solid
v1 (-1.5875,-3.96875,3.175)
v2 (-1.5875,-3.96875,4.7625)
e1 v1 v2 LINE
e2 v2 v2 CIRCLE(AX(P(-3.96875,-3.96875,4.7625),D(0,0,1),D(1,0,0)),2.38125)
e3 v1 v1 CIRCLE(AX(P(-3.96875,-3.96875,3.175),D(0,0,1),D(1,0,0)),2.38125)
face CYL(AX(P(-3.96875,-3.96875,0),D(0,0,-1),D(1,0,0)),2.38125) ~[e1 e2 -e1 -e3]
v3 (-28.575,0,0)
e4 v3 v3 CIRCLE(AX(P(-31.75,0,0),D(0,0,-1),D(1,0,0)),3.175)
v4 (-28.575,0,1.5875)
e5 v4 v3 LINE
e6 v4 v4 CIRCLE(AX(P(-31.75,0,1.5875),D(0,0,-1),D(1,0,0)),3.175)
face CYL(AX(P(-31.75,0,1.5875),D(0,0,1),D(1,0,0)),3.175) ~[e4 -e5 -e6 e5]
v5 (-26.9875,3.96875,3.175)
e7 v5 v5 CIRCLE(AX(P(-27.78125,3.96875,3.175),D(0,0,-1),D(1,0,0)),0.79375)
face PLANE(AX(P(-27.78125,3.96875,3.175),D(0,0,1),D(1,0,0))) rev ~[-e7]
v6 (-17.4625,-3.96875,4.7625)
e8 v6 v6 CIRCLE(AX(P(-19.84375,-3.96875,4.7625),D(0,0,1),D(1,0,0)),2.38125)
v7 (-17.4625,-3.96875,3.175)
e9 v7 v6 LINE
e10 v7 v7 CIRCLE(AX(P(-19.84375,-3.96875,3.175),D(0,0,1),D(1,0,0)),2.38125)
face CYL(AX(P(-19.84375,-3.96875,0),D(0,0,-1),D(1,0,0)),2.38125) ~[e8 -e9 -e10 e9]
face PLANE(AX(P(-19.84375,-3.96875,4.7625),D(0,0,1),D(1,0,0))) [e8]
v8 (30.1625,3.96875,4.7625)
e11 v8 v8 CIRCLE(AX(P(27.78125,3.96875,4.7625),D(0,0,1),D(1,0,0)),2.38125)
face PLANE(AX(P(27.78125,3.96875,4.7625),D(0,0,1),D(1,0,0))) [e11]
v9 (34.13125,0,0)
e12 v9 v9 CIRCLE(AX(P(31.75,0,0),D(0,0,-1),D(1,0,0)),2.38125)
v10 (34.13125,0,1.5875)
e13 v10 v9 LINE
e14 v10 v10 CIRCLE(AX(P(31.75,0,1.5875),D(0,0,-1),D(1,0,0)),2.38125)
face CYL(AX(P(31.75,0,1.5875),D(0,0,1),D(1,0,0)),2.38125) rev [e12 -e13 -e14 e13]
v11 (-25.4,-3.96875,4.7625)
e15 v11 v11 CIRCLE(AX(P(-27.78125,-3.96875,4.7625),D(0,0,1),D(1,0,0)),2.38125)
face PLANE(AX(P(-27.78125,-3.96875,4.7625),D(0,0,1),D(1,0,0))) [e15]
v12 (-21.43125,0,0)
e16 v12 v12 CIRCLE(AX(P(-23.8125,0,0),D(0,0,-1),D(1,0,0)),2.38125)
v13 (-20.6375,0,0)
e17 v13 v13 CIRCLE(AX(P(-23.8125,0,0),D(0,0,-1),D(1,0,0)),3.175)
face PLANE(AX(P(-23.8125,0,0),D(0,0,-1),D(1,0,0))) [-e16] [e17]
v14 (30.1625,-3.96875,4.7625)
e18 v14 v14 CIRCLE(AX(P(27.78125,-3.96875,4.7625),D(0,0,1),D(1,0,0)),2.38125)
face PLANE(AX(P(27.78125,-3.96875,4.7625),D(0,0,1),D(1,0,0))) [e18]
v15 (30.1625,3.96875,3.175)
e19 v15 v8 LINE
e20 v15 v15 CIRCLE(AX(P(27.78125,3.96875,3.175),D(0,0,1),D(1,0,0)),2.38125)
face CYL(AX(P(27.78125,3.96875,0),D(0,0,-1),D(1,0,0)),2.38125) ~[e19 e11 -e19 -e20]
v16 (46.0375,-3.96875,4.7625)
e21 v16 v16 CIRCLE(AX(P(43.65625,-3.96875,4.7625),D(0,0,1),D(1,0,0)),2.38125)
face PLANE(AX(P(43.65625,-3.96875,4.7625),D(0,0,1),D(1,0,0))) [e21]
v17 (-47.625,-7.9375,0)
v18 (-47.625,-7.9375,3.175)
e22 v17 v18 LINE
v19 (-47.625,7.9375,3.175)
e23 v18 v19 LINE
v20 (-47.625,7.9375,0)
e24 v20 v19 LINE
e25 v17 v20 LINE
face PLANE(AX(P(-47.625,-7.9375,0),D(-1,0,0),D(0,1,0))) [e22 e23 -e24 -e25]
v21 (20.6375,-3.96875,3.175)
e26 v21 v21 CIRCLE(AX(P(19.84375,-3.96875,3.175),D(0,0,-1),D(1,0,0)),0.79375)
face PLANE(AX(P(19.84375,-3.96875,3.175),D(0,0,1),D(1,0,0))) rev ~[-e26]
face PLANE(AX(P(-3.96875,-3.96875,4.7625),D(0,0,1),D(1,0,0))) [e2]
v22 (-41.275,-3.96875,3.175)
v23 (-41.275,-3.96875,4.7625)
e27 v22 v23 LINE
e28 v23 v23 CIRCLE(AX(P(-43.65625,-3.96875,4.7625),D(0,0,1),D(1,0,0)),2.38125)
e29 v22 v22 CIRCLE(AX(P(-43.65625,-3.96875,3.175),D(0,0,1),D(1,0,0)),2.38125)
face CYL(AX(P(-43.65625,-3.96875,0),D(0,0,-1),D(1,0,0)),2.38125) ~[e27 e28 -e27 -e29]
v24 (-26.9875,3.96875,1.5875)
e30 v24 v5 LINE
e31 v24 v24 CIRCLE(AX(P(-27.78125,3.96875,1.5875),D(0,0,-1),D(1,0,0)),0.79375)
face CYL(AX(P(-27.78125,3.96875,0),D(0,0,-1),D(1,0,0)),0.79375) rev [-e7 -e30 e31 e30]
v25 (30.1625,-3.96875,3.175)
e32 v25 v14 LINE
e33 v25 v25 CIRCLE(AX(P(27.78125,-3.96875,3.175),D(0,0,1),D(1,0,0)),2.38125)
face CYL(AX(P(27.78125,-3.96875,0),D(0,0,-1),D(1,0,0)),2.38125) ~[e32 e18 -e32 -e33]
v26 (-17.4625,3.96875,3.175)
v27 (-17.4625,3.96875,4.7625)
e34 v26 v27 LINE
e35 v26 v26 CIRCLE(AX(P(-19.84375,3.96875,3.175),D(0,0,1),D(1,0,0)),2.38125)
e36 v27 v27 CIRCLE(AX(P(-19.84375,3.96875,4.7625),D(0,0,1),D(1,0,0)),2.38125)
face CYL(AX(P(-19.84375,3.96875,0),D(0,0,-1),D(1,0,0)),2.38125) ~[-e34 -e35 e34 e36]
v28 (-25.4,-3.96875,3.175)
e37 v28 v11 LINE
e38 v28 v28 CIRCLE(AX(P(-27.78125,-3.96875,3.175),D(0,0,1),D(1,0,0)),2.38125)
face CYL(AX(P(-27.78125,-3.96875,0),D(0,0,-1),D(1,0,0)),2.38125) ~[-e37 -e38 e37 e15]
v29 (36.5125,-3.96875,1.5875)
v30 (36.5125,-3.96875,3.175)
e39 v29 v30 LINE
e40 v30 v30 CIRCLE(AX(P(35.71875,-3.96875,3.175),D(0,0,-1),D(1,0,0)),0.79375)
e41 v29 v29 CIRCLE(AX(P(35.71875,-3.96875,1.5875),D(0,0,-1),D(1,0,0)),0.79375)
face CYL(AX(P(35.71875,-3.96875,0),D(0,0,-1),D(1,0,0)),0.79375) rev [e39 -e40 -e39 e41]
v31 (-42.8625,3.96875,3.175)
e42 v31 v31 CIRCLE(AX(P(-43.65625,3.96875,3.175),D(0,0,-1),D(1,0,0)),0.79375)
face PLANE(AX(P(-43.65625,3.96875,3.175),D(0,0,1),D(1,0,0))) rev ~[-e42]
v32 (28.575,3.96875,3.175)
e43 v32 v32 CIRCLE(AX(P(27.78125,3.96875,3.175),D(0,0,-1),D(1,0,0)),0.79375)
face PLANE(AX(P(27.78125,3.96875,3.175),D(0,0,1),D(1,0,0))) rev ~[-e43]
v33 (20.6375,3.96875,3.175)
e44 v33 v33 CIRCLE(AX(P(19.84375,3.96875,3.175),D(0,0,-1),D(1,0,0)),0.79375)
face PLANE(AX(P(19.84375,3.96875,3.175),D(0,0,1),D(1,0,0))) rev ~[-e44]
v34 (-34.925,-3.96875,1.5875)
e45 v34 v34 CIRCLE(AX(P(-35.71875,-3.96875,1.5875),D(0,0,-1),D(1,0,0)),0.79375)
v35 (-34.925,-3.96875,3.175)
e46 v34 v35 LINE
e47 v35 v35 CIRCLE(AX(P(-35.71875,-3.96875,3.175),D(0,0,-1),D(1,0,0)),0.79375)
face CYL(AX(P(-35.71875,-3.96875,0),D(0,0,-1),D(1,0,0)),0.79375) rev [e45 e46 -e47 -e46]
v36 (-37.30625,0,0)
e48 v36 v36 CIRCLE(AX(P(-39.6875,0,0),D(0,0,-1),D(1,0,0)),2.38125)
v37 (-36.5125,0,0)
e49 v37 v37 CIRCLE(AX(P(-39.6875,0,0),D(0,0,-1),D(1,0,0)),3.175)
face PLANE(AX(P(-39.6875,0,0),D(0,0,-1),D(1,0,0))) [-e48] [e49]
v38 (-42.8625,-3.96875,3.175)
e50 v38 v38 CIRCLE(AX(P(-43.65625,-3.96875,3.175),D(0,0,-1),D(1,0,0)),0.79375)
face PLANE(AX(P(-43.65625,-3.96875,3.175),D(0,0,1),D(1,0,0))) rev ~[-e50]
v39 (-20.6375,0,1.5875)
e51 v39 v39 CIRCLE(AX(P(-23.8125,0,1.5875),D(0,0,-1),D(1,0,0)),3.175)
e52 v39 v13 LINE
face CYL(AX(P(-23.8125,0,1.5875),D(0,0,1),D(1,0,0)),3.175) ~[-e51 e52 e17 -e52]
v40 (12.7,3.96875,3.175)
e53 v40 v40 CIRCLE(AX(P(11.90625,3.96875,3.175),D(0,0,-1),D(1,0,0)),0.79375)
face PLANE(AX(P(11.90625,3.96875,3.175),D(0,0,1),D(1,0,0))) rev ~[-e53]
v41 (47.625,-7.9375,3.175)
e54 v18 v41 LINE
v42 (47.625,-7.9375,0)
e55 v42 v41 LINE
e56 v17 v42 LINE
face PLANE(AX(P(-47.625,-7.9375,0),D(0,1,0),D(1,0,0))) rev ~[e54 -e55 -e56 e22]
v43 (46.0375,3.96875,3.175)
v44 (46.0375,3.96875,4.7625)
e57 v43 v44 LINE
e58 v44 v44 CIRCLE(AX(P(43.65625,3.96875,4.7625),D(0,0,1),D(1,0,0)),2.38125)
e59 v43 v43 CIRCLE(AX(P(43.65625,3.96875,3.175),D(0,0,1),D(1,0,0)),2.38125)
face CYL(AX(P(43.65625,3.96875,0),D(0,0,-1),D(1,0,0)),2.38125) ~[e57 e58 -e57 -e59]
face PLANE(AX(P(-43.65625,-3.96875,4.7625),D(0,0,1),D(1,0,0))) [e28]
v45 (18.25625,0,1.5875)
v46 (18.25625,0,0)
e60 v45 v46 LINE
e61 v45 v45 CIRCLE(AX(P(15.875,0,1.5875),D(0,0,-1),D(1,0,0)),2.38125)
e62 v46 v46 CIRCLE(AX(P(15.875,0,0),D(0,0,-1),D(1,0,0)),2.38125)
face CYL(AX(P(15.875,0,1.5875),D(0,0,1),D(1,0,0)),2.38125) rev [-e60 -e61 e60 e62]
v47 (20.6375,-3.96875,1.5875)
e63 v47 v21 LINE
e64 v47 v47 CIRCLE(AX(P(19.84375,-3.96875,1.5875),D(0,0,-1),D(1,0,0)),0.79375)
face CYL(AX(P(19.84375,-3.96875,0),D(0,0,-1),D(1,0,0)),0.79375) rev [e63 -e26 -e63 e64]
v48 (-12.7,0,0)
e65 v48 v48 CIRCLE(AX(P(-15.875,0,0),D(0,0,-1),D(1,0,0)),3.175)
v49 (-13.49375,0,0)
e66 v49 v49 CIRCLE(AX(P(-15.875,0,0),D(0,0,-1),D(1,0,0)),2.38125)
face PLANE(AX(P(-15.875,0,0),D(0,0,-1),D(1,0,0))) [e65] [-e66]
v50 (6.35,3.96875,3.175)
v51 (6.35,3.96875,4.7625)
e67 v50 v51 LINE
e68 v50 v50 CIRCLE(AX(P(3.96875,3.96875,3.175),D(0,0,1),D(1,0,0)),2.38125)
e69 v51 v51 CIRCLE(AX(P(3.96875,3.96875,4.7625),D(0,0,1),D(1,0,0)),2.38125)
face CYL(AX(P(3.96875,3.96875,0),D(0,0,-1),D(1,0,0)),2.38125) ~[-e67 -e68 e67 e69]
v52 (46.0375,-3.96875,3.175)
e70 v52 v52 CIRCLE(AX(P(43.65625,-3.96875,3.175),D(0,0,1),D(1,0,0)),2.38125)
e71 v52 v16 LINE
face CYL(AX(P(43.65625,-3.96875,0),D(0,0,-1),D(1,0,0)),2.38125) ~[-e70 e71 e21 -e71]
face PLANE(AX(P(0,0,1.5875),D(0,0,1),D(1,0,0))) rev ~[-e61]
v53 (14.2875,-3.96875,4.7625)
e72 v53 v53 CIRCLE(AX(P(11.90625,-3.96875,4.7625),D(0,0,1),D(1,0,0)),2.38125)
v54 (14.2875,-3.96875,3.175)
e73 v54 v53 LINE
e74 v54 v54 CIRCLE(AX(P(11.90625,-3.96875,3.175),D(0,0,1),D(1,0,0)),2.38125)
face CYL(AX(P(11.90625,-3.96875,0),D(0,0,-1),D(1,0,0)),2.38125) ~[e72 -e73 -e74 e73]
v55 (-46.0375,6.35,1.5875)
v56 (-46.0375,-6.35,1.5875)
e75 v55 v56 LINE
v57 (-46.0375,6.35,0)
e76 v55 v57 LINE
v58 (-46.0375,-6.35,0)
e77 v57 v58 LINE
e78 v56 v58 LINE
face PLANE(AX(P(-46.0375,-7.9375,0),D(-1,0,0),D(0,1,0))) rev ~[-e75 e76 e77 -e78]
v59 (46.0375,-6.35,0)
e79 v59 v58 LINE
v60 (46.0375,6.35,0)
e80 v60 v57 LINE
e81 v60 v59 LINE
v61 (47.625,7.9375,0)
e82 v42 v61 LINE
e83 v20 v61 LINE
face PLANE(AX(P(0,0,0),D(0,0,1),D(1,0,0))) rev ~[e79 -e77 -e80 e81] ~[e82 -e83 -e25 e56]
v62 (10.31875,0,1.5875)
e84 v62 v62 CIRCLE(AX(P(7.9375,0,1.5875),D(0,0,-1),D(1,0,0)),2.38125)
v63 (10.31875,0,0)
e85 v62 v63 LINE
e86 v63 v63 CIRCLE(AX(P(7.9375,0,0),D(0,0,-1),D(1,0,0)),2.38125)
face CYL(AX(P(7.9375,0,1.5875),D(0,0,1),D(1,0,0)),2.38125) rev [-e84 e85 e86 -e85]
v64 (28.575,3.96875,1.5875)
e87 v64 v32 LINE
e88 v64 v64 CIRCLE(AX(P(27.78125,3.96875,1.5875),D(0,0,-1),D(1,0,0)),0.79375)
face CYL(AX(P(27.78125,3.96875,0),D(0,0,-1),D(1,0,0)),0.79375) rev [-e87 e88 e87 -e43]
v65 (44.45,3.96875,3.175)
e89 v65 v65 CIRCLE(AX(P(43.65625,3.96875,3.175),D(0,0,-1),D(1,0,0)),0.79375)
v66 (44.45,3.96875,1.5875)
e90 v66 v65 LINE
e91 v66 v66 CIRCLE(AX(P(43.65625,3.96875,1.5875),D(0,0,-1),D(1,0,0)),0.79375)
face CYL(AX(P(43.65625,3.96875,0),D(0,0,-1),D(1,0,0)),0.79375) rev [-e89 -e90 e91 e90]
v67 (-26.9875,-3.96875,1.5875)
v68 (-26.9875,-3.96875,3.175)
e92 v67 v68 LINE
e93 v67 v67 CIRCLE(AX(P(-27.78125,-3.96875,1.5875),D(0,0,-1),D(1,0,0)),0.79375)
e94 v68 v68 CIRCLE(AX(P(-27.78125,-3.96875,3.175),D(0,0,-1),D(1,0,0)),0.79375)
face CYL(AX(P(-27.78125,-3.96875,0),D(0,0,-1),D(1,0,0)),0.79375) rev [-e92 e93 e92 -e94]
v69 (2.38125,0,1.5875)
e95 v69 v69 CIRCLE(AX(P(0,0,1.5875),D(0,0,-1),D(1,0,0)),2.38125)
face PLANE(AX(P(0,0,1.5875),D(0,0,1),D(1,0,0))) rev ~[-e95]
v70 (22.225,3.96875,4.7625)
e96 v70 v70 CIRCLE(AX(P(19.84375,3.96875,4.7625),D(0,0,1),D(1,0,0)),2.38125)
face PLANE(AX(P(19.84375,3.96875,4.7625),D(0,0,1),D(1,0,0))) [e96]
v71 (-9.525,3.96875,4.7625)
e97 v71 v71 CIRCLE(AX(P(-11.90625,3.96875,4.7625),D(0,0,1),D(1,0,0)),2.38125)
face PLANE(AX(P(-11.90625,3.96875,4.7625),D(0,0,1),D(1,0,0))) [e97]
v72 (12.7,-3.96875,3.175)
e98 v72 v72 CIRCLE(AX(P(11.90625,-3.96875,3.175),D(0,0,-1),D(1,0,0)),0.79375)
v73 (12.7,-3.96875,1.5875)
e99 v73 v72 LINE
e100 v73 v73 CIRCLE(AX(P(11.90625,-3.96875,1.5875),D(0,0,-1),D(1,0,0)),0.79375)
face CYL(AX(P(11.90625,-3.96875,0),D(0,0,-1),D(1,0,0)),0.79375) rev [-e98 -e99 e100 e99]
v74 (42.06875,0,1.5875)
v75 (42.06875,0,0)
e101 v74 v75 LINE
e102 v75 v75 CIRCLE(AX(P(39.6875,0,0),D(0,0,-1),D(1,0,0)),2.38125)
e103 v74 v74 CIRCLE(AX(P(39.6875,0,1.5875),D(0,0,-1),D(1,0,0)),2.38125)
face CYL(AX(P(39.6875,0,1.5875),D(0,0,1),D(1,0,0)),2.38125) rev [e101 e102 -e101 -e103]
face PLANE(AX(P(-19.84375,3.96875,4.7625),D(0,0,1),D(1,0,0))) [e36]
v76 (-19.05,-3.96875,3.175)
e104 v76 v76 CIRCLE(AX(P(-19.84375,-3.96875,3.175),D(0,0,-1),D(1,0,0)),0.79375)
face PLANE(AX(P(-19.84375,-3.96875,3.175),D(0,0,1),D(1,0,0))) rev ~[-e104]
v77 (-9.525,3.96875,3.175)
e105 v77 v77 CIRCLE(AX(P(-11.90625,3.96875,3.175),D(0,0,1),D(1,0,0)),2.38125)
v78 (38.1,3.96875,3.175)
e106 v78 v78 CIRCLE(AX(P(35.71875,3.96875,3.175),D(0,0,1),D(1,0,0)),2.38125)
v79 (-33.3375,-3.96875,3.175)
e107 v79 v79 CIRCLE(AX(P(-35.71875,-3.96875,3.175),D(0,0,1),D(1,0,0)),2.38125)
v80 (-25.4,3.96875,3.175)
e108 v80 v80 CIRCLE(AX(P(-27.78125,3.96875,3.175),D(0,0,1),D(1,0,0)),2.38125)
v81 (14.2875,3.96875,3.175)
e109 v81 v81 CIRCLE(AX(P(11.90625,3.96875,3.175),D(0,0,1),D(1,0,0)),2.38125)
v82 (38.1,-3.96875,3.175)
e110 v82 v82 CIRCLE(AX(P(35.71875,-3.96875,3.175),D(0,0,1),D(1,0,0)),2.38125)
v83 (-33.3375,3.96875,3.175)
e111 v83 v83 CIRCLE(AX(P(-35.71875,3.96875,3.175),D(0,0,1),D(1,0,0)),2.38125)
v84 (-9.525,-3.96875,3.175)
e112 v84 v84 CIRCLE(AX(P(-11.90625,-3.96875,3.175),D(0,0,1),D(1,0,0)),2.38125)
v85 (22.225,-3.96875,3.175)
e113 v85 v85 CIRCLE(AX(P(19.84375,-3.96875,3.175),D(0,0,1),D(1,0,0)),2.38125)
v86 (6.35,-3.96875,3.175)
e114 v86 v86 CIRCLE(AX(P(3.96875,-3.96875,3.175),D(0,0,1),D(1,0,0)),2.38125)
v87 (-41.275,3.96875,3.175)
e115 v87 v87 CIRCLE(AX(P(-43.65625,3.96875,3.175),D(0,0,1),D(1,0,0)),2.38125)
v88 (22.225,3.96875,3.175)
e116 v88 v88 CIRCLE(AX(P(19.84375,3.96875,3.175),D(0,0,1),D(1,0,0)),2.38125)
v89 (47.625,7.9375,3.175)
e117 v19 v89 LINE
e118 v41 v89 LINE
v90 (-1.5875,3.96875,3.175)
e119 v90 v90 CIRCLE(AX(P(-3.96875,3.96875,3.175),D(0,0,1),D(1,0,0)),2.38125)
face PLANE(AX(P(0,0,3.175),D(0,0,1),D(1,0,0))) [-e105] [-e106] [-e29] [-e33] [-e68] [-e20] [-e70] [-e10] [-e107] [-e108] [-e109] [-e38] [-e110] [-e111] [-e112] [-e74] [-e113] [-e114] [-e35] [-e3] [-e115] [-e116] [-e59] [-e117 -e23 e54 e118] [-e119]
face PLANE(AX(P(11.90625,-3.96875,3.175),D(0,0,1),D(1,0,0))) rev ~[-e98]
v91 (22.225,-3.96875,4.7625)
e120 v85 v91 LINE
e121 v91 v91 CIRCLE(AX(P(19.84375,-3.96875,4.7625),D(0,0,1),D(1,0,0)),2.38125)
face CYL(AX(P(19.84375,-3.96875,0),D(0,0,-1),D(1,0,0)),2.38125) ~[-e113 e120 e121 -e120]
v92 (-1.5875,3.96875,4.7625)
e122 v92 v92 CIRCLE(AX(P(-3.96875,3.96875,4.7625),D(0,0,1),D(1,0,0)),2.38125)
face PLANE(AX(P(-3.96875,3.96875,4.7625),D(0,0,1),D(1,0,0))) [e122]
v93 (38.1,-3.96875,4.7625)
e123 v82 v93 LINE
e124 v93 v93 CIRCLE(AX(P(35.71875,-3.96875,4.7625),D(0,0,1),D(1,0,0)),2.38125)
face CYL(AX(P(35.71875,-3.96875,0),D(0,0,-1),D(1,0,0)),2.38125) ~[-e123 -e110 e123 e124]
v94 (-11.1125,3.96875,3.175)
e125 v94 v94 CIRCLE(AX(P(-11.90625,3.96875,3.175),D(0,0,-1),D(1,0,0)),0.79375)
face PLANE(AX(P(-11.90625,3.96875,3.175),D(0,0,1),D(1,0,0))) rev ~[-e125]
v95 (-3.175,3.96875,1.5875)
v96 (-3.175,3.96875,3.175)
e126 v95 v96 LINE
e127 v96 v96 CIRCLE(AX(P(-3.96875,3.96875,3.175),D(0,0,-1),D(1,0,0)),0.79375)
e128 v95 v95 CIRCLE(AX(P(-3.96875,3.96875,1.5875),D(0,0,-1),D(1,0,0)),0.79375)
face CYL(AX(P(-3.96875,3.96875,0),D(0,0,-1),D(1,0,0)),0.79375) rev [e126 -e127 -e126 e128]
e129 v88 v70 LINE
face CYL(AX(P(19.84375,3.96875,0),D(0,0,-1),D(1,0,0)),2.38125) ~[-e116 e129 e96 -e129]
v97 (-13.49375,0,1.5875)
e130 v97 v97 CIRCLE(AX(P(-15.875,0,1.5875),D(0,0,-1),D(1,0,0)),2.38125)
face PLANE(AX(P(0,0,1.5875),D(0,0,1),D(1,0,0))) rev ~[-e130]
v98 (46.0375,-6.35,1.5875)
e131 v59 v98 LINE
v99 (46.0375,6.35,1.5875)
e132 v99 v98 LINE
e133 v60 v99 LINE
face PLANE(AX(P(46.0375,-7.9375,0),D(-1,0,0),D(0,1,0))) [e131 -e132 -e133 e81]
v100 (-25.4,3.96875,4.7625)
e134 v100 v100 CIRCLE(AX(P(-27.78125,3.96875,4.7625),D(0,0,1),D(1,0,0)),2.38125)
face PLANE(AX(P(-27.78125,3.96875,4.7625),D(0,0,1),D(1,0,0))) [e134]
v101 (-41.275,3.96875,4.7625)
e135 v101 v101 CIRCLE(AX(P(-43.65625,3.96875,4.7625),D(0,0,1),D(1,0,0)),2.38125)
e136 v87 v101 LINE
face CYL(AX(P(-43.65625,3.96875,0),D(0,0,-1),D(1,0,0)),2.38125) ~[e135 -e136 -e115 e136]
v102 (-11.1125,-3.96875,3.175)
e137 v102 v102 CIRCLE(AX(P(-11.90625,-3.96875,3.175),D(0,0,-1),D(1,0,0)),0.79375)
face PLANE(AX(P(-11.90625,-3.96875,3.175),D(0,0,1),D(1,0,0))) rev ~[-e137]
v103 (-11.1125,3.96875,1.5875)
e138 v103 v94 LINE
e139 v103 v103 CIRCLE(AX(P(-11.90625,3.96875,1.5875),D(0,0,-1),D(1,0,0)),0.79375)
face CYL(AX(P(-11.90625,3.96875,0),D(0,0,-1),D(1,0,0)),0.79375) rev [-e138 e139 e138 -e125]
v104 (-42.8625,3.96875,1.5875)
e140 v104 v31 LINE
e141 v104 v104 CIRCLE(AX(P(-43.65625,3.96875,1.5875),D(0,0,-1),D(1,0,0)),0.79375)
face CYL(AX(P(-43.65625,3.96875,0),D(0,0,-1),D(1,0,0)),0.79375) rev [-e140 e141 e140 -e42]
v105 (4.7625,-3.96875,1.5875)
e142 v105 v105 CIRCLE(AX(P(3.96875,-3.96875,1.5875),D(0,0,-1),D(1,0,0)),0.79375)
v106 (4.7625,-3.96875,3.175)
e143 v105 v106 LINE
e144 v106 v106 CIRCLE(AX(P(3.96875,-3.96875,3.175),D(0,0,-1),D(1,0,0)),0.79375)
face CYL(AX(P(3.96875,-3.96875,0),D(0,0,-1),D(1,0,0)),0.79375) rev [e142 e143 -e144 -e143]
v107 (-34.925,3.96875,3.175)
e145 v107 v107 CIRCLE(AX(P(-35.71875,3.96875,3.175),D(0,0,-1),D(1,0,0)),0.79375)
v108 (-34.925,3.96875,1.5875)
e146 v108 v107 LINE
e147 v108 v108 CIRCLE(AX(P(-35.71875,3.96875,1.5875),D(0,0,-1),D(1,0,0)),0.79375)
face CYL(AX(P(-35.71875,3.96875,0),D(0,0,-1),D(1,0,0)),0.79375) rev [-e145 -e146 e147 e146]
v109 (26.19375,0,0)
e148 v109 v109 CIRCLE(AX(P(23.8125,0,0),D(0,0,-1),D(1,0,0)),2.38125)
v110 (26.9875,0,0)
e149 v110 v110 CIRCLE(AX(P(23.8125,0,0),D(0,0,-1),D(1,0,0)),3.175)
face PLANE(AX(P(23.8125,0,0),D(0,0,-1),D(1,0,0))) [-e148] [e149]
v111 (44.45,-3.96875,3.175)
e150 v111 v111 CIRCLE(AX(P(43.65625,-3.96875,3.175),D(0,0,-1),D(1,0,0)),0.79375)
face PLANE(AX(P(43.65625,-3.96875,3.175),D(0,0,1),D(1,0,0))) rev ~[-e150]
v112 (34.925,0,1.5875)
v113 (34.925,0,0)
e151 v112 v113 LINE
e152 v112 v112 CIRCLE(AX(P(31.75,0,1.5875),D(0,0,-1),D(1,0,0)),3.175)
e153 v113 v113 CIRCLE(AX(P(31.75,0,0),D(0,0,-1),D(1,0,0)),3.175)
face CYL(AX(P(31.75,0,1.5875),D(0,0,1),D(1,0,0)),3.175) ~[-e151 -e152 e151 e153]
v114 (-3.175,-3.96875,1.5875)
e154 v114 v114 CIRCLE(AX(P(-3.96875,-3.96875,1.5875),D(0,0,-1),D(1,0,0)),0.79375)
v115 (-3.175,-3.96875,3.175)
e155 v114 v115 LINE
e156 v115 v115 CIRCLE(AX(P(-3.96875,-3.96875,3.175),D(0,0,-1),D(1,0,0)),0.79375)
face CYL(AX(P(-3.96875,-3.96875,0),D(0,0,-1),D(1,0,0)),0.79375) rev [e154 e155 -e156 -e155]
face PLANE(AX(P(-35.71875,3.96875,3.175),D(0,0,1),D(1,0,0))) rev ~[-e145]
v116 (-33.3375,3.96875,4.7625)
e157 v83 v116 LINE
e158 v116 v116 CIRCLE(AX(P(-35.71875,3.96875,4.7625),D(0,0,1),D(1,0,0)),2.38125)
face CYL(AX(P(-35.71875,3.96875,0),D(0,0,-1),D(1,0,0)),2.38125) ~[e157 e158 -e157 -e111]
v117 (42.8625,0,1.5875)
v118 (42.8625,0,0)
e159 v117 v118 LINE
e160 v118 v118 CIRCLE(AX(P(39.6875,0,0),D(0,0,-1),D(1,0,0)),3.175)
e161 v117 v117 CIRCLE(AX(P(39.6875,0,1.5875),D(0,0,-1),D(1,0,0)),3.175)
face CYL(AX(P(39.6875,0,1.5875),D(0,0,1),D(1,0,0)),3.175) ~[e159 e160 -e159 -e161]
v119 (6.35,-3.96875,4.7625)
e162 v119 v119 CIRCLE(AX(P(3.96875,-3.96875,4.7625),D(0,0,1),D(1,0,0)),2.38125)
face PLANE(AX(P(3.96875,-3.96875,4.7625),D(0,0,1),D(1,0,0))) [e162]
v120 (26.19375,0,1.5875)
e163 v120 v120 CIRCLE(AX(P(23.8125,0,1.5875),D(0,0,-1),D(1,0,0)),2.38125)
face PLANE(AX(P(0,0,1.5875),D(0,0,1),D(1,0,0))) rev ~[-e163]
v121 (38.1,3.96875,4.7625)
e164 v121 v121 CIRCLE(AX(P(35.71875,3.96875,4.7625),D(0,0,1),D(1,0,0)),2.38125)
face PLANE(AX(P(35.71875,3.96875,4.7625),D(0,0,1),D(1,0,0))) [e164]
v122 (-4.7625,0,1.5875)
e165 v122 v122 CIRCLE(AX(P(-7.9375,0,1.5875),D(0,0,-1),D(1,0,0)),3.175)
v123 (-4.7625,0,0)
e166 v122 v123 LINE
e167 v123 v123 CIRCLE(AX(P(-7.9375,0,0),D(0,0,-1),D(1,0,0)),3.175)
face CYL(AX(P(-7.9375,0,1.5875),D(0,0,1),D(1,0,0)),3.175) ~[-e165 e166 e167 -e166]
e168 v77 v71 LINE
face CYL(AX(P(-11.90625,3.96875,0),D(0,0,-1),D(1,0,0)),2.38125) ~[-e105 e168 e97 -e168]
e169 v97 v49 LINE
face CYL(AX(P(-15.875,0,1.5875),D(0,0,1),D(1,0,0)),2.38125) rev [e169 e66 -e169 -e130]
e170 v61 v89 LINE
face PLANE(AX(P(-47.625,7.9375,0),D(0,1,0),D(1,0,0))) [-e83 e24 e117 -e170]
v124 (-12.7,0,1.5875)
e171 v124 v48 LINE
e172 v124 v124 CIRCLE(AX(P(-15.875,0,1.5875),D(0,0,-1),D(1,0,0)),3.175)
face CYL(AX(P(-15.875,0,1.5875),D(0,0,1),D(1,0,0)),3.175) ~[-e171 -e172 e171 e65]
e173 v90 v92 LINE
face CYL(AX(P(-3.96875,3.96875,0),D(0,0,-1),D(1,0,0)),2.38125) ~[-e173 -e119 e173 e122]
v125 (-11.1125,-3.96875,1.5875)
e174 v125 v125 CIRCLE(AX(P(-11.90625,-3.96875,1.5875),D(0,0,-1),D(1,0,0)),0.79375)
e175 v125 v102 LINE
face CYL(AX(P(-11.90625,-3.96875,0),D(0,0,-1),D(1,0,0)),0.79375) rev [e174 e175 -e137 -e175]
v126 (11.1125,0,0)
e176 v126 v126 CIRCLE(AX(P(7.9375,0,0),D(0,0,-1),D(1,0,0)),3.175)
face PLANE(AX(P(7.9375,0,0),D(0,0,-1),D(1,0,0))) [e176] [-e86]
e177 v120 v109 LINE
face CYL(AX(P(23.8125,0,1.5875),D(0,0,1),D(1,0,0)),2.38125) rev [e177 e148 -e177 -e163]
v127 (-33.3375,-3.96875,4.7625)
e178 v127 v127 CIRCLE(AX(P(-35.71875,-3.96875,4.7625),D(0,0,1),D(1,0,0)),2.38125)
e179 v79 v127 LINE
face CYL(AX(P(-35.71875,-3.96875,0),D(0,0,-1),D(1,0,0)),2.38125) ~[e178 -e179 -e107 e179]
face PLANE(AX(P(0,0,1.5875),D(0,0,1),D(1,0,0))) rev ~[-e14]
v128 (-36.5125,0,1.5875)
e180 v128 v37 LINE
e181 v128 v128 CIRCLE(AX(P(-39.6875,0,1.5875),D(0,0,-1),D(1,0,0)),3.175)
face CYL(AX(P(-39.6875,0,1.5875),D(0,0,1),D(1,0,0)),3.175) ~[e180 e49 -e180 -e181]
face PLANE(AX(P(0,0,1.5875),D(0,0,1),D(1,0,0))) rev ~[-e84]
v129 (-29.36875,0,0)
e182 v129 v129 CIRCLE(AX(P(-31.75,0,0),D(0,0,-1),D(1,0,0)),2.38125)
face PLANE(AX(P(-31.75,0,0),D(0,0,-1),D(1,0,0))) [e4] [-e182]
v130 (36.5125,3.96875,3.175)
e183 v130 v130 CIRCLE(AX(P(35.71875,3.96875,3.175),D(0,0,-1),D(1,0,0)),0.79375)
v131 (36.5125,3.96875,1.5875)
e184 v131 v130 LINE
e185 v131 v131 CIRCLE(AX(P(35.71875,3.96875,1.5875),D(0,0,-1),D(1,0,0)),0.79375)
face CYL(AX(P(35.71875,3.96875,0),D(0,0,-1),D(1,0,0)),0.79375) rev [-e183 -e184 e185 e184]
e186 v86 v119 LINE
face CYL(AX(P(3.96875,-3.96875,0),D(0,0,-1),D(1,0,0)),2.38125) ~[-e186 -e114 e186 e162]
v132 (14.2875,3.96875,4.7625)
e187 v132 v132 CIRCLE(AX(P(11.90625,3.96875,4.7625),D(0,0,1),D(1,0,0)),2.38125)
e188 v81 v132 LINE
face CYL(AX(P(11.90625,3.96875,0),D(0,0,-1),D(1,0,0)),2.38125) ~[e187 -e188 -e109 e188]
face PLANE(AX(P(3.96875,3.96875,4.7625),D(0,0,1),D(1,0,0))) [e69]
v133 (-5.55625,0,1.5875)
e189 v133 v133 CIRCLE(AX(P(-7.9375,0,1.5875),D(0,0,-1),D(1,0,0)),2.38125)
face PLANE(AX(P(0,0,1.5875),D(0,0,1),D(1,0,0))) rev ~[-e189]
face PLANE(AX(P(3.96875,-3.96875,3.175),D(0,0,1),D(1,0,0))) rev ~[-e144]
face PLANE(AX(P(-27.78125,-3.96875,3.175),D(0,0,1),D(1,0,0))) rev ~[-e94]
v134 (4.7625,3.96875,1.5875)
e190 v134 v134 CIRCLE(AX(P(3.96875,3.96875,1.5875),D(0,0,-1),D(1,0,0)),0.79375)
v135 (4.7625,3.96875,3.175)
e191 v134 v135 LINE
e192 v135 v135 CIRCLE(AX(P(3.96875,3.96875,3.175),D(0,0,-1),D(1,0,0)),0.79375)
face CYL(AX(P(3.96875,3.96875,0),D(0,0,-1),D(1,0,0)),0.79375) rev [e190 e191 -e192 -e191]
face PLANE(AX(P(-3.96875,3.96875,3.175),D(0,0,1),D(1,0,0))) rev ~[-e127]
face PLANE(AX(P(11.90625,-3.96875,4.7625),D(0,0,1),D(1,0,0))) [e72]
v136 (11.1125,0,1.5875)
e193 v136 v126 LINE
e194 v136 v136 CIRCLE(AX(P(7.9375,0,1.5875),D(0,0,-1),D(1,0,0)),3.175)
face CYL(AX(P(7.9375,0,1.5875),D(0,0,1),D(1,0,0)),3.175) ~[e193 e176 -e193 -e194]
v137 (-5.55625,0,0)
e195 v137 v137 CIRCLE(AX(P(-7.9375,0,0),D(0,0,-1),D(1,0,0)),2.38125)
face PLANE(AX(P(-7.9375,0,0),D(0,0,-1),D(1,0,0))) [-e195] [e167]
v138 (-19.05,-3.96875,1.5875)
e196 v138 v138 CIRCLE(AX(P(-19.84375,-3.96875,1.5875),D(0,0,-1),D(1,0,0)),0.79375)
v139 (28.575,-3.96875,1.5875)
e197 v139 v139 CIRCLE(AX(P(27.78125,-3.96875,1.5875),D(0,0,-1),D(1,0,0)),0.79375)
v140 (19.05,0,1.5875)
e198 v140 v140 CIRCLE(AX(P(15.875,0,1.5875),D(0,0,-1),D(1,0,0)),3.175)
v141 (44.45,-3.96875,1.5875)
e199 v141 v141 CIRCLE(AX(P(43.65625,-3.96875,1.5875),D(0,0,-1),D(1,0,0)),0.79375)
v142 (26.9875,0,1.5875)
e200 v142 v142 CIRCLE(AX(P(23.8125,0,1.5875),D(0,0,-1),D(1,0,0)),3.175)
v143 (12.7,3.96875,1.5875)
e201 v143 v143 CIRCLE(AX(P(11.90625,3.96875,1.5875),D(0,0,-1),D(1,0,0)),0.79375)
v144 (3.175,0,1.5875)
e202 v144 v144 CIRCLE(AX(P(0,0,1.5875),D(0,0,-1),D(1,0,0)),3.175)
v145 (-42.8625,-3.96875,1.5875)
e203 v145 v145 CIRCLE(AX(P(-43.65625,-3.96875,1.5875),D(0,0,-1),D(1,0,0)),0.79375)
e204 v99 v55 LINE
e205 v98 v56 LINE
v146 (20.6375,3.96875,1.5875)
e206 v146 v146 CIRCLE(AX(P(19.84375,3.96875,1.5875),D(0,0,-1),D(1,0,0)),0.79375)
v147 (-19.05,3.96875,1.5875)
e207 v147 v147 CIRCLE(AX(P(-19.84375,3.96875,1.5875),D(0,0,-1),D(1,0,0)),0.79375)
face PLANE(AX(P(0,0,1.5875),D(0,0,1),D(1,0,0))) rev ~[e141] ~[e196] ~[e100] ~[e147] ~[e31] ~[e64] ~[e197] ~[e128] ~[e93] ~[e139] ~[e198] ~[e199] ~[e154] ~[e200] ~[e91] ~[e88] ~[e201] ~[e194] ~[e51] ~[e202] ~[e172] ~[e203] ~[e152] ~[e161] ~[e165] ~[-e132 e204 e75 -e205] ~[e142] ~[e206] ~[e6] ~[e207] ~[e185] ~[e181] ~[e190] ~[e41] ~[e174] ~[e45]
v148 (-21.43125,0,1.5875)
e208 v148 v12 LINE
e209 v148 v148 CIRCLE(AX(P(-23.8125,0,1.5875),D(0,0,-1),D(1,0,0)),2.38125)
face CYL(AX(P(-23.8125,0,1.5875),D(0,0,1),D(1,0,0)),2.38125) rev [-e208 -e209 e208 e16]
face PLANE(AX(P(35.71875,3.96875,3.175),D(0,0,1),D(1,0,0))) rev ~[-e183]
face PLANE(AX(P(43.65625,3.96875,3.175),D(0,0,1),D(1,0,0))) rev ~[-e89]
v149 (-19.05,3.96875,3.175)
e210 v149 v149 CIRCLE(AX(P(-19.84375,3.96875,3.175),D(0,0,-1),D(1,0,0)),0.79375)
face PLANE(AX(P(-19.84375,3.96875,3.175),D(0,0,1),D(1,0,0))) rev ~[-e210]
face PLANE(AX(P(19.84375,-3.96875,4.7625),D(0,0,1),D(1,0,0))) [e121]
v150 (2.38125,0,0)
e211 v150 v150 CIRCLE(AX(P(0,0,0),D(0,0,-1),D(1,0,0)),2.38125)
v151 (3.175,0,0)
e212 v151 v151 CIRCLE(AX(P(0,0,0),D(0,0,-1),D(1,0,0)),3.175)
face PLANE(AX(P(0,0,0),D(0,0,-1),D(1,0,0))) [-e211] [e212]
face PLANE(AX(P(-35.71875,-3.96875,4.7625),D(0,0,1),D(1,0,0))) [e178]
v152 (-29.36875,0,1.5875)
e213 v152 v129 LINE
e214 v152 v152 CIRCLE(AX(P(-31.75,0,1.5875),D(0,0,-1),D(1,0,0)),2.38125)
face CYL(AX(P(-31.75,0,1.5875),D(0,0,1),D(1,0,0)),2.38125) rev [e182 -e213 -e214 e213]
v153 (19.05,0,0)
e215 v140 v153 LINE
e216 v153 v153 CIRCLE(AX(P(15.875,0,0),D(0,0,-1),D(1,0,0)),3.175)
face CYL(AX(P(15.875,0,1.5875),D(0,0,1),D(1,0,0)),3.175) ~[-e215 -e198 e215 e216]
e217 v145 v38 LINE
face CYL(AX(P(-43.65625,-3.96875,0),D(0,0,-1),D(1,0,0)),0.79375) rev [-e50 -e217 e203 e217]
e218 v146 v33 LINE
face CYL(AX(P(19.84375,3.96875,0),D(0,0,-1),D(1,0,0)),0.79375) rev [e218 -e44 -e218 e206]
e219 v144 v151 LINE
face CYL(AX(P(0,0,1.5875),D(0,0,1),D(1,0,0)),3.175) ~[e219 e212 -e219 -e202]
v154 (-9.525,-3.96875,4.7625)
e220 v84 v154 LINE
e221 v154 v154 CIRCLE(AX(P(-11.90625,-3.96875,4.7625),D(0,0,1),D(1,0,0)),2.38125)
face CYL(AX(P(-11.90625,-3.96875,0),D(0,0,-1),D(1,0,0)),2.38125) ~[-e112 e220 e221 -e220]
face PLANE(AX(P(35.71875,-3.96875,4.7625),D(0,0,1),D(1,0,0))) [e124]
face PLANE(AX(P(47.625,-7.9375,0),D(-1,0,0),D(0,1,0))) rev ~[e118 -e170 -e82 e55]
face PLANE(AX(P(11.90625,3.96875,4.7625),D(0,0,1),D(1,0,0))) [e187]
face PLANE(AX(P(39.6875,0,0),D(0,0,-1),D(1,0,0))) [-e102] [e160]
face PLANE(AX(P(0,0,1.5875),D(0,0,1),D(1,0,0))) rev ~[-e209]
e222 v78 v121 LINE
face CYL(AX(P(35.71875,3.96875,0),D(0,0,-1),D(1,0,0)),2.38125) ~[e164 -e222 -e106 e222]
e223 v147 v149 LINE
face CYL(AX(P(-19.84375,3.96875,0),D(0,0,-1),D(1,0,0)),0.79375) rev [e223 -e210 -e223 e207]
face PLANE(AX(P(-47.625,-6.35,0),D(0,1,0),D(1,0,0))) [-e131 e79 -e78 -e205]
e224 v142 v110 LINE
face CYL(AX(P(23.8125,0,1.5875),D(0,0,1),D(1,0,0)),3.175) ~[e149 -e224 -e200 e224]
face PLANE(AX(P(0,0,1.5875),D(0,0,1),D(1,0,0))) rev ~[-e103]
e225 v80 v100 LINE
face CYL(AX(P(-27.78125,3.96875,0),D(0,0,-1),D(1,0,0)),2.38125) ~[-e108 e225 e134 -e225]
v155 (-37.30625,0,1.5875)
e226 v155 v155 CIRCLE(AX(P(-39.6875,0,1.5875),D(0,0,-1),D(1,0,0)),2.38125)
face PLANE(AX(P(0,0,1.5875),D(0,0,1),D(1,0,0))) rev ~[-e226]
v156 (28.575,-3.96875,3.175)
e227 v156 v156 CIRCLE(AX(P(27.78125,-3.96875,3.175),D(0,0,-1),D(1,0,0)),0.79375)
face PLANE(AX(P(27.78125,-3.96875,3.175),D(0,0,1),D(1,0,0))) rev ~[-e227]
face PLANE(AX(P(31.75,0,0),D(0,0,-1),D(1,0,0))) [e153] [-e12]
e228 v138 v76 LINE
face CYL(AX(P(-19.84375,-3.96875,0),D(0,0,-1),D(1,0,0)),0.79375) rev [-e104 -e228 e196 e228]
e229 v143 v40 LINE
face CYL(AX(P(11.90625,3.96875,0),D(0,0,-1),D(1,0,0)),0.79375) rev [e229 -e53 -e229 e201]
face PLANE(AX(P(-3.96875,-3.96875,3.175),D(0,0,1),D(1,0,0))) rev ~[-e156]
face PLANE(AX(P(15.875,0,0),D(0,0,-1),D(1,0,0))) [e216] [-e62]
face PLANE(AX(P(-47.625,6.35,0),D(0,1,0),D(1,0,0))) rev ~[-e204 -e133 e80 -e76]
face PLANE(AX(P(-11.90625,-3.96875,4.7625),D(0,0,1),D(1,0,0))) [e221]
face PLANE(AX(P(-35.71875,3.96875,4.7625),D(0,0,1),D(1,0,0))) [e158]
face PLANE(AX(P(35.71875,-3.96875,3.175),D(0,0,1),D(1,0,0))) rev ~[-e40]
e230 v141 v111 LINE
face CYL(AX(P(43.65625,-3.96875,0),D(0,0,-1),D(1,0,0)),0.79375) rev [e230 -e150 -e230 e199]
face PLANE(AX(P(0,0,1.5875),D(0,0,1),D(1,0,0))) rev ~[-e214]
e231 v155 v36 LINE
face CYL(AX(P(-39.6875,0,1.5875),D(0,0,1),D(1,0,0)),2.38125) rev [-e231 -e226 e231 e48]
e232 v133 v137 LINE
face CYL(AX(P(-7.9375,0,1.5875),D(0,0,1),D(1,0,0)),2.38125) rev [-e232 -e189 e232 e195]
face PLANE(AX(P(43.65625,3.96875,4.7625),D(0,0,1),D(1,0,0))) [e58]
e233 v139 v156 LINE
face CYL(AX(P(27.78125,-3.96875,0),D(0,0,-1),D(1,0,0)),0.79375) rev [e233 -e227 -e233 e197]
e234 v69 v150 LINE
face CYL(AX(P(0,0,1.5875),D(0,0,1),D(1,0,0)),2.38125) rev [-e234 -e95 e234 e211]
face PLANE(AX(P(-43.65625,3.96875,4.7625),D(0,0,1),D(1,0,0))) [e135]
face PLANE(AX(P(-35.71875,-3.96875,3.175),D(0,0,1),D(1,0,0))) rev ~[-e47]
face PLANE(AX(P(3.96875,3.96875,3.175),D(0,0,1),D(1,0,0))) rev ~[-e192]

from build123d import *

# Parameters (mm, degrees)
F0_W     = 95.25
F0_H     = 15.875
F0_R     = 2.38125
F1_DEPTH = 3.175
F2_DEPTH = 4.7625
F3_T     = -1.5875
F4_R     = 3.175
F4_R_2   = 2.38125
F5_DEPTH = 1.5875


with BuildPart() as f1:
    # F0 (on Top) → F1 (new body)
    with BuildSketch(Plane.XY):
        Rectangle(F0_W, F0_H)
        with Locations((-43.65625, -3.96875)):
            Circle(F0_R, mode=Mode.SUBTRACT)
        with Locations((-35.71875, -3.96875)):
            Circle(F0_R, mode=Mode.SUBTRACT)
        with Locations((-27.78125, -3.96875)):
            Circle(F0_R, mode=Mode.SUBTRACT)
        with Locations((-19.84375, -3.96875)):
            Circle(F0_R, mode=Mode.SUBTRACT)
        with Locations((-11.90625, -3.96875)):
            Circle(F0_R, mode=Mode.SUBTRACT)
        with Locations((-3.96875, -3.96875)):
            Circle(F0_R, mode=Mode.SUBTRACT)
        with Locations((3.96875, -3.96875)):
            Circle(F0_R, mode=Mode.SUBTRACT)
        with Locations((11.90625, -3.96875)):
            Circle(F0_R, mode=Mode.SUBTRACT)
        with Locations((19.84375, -3.96875)):
            Circle(F0_R, mode=Mode.SUBTRACT)
        with Locations((27.78125, -3.96875)):
            Circle(F0_R, mode=Mode.SUBTRACT)
        with Locations((35.71875, -3.96875)):
            Circle(F0_R, mode=Mode.SUBTRACT)
        with Locations((43.65625, -3.96875)):
            Circle(F0_R, mode=Mode.SUBTRACT)
        with Locations((-43.65625, 3.96875)):
            Circle(F0_R, mode=Mode.SUBTRACT)
        with Locations((-35.71875, 3.96875)):
            Circle(F0_R, mode=Mode.SUBTRACT)
        with Locations((-27.78125, 3.96875)):
            Circle(F0_R, mode=Mode.SUBTRACT)
        with Locations((-19.84375, 3.96875)):
            Circle(F0_R, mode=Mode.SUBTRACT)
        with Locations((-11.90625, 3.96875)):
            Circle(F0_R, mode=Mode.SUBTRACT)
        with Locations((-3.96875, 3.96875)):
            Circle(F0_R, mode=Mode.SUBTRACT)
        with Locations((3.96875, 3.96875)):
            Circle(F0_R, mode=Mode.SUBTRACT)
        with Locations((11.90625, 3.96875)):
            Circle(F0_R, mode=Mode.SUBTRACT)
        with Locations((19.84375, 3.96875)):
            Circle(F0_R, mode=Mode.SUBTRACT)
        with Locations((27.78125, 3.96875)):
            Circle(F0_R, mode=Mode.SUBTRACT)
        with Locations((35.71875, 3.96875)):
            Circle(F0_R, mode=Mode.SUBTRACT)
        with Locations((43.65625, 3.96875)):
            Circle(F0_R, mode=Mode.SUBTRACT)
    extrude(amount=F1_DEPTH)

    # F0 (on Top) → F2 (join)
    with BuildSketch(Plane.XY):
        with Locations((-43.65625, 3.96875)):
            Circle(F0_R)
        with Locations((-43.65625, -3.96875)):
            Circle(F0_R)
        with Locations((-35.71875, -3.96875)):
            Circle(F0_R)
        with Locations((-35.71875, 3.96875)):
            Circle(F0_R)
        with Locations((-27.78125, 3.96875)):
            Circle(F0_R)
        with Locations((-19.84375, -3.96875)):
            Circle(F0_R)
        with Locations((-19.84375, 3.96875)):
            Circle(F0_R)
        with Locations((-11.90625, 3.96875)):
            Circle(F0_R)
        with Locations((-11.90625, -3.96875)):
            Circle(F0_R)
        with Locations((-27.78125, -3.96875)):
            Circle(F0_R)
        with Locations((-3.96875, -3.96875)):
            Circle(F0_R)
        with Locations((-3.96875, 3.96875)):
            Circle(F0_R)
        with Locations((3.96875, 3.96875)):
            Circle(F0_R)
        with Locations((3.96875, -3.96875)):
            Circle(F0_R)
        with Locations((11.90625, -3.96875)):
            Circle(F0_R)
        with Locations((11.90625, 3.96875)):
            Circle(F0_R)
        with Locations((19.84375, 3.96875)):
            Circle(F0_R)
        with Locations((19.84375, -3.96875)):
            Circle(F0_R)
        with Locations((27.78125, -3.96875)):
            Circle(F0_R)
        with Locations((27.78125, 3.96875)):
            Circle(F0_R)
        with Locations((35.71875, 3.96875)):
            Circle(F0_R)
        with Locations((35.71875, -3.96875)):
            Circle(F0_R)
        with Locations((43.65625, 3.96875)):
            Circle(F0_R)
        with Locations((43.65625, -3.96875)):
            Circle(F0_R)
    extrude(amount=F2_DEPTH)

    # F3
    f3_openings = [f1.faces().sort_by_distance(p)[0] for p in [
        (0, 0, 0),
    ]]
    offset(amount=F3_T, openings=f3_openings, kind=Kind.INTERSECTION)

    # F4 (on face) → F5 (join)
    with BuildSketch(Plane(origin=(0, 0, 1.5875), x_dir=(1, 0, 0), z_dir=(0, 0, -1))):
        with Locations((-39.6875, 0)):
            Circle(F4_R)
        with Locations((-39.6875, 0)):
            Circle(F4_R_2, mode=Mode.SUBTRACT)
        with Locations((-31.75, 0)):
            Circle(F4_R)
        with Locations((-31.75, 0)):
            Circle(F4_R_2, mode=Mode.SUBTRACT)
        with Locations((-23.8125, 0)):
            Circle(F4_R)
        with Locations((-23.8125, 0)):
            Circle(F4_R_2, mode=Mode.SUBTRACT)
        with Locations((-15.875, 0)):
            Circle(F4_R)
        with Locations((-15.875, 0)):
            Circle(F4_R_2, mode=Mode.SUBTRACT)
        with Locations((-7.9375, 0)):
            Circle(F4_R)
        with Locations((-7.9375, 0)):
            Circle(F4_R_2, mode=Mode.SUBTRACT)
        Circle(F4_R)
        Circle(F4_R_2, mode=Mode.SUBTRACT)
        with Locations((7.9375, 0)):
            Circle(F4_R)
        with Locations((7.9375, 0)):
            Circle(F4_R_2, mode=Mode.SUBTRACT)
        with Locations((15.875, 0)):
            Circle(F4_R)
        with Locations((15.875, 0)):
            Circle(F4_R_2, mode=Mode.SUBTRACT)
        with Locations((23.8125, 0)):
            Circle(F4_R)
        with Locations((23.8125, 0)):
            Circle(F4_R_2, mode=Mode.SUBTRACT)
        with Locations((31.75, 0)):
            Circle(F4_R)
        with Locations((31.75, 0)):
            Circle(F4_R_2, mode=Mode.SUBTRACT)
        with Locations((39.6875, 0)):
            Circle(F4_R)
        with Locations((39.6875, 0)):
            Circle(F4_R_2, mode=Mode.SUBTRACT)
    extrude(amount=F5_DEPTH)


solid = f1.part
